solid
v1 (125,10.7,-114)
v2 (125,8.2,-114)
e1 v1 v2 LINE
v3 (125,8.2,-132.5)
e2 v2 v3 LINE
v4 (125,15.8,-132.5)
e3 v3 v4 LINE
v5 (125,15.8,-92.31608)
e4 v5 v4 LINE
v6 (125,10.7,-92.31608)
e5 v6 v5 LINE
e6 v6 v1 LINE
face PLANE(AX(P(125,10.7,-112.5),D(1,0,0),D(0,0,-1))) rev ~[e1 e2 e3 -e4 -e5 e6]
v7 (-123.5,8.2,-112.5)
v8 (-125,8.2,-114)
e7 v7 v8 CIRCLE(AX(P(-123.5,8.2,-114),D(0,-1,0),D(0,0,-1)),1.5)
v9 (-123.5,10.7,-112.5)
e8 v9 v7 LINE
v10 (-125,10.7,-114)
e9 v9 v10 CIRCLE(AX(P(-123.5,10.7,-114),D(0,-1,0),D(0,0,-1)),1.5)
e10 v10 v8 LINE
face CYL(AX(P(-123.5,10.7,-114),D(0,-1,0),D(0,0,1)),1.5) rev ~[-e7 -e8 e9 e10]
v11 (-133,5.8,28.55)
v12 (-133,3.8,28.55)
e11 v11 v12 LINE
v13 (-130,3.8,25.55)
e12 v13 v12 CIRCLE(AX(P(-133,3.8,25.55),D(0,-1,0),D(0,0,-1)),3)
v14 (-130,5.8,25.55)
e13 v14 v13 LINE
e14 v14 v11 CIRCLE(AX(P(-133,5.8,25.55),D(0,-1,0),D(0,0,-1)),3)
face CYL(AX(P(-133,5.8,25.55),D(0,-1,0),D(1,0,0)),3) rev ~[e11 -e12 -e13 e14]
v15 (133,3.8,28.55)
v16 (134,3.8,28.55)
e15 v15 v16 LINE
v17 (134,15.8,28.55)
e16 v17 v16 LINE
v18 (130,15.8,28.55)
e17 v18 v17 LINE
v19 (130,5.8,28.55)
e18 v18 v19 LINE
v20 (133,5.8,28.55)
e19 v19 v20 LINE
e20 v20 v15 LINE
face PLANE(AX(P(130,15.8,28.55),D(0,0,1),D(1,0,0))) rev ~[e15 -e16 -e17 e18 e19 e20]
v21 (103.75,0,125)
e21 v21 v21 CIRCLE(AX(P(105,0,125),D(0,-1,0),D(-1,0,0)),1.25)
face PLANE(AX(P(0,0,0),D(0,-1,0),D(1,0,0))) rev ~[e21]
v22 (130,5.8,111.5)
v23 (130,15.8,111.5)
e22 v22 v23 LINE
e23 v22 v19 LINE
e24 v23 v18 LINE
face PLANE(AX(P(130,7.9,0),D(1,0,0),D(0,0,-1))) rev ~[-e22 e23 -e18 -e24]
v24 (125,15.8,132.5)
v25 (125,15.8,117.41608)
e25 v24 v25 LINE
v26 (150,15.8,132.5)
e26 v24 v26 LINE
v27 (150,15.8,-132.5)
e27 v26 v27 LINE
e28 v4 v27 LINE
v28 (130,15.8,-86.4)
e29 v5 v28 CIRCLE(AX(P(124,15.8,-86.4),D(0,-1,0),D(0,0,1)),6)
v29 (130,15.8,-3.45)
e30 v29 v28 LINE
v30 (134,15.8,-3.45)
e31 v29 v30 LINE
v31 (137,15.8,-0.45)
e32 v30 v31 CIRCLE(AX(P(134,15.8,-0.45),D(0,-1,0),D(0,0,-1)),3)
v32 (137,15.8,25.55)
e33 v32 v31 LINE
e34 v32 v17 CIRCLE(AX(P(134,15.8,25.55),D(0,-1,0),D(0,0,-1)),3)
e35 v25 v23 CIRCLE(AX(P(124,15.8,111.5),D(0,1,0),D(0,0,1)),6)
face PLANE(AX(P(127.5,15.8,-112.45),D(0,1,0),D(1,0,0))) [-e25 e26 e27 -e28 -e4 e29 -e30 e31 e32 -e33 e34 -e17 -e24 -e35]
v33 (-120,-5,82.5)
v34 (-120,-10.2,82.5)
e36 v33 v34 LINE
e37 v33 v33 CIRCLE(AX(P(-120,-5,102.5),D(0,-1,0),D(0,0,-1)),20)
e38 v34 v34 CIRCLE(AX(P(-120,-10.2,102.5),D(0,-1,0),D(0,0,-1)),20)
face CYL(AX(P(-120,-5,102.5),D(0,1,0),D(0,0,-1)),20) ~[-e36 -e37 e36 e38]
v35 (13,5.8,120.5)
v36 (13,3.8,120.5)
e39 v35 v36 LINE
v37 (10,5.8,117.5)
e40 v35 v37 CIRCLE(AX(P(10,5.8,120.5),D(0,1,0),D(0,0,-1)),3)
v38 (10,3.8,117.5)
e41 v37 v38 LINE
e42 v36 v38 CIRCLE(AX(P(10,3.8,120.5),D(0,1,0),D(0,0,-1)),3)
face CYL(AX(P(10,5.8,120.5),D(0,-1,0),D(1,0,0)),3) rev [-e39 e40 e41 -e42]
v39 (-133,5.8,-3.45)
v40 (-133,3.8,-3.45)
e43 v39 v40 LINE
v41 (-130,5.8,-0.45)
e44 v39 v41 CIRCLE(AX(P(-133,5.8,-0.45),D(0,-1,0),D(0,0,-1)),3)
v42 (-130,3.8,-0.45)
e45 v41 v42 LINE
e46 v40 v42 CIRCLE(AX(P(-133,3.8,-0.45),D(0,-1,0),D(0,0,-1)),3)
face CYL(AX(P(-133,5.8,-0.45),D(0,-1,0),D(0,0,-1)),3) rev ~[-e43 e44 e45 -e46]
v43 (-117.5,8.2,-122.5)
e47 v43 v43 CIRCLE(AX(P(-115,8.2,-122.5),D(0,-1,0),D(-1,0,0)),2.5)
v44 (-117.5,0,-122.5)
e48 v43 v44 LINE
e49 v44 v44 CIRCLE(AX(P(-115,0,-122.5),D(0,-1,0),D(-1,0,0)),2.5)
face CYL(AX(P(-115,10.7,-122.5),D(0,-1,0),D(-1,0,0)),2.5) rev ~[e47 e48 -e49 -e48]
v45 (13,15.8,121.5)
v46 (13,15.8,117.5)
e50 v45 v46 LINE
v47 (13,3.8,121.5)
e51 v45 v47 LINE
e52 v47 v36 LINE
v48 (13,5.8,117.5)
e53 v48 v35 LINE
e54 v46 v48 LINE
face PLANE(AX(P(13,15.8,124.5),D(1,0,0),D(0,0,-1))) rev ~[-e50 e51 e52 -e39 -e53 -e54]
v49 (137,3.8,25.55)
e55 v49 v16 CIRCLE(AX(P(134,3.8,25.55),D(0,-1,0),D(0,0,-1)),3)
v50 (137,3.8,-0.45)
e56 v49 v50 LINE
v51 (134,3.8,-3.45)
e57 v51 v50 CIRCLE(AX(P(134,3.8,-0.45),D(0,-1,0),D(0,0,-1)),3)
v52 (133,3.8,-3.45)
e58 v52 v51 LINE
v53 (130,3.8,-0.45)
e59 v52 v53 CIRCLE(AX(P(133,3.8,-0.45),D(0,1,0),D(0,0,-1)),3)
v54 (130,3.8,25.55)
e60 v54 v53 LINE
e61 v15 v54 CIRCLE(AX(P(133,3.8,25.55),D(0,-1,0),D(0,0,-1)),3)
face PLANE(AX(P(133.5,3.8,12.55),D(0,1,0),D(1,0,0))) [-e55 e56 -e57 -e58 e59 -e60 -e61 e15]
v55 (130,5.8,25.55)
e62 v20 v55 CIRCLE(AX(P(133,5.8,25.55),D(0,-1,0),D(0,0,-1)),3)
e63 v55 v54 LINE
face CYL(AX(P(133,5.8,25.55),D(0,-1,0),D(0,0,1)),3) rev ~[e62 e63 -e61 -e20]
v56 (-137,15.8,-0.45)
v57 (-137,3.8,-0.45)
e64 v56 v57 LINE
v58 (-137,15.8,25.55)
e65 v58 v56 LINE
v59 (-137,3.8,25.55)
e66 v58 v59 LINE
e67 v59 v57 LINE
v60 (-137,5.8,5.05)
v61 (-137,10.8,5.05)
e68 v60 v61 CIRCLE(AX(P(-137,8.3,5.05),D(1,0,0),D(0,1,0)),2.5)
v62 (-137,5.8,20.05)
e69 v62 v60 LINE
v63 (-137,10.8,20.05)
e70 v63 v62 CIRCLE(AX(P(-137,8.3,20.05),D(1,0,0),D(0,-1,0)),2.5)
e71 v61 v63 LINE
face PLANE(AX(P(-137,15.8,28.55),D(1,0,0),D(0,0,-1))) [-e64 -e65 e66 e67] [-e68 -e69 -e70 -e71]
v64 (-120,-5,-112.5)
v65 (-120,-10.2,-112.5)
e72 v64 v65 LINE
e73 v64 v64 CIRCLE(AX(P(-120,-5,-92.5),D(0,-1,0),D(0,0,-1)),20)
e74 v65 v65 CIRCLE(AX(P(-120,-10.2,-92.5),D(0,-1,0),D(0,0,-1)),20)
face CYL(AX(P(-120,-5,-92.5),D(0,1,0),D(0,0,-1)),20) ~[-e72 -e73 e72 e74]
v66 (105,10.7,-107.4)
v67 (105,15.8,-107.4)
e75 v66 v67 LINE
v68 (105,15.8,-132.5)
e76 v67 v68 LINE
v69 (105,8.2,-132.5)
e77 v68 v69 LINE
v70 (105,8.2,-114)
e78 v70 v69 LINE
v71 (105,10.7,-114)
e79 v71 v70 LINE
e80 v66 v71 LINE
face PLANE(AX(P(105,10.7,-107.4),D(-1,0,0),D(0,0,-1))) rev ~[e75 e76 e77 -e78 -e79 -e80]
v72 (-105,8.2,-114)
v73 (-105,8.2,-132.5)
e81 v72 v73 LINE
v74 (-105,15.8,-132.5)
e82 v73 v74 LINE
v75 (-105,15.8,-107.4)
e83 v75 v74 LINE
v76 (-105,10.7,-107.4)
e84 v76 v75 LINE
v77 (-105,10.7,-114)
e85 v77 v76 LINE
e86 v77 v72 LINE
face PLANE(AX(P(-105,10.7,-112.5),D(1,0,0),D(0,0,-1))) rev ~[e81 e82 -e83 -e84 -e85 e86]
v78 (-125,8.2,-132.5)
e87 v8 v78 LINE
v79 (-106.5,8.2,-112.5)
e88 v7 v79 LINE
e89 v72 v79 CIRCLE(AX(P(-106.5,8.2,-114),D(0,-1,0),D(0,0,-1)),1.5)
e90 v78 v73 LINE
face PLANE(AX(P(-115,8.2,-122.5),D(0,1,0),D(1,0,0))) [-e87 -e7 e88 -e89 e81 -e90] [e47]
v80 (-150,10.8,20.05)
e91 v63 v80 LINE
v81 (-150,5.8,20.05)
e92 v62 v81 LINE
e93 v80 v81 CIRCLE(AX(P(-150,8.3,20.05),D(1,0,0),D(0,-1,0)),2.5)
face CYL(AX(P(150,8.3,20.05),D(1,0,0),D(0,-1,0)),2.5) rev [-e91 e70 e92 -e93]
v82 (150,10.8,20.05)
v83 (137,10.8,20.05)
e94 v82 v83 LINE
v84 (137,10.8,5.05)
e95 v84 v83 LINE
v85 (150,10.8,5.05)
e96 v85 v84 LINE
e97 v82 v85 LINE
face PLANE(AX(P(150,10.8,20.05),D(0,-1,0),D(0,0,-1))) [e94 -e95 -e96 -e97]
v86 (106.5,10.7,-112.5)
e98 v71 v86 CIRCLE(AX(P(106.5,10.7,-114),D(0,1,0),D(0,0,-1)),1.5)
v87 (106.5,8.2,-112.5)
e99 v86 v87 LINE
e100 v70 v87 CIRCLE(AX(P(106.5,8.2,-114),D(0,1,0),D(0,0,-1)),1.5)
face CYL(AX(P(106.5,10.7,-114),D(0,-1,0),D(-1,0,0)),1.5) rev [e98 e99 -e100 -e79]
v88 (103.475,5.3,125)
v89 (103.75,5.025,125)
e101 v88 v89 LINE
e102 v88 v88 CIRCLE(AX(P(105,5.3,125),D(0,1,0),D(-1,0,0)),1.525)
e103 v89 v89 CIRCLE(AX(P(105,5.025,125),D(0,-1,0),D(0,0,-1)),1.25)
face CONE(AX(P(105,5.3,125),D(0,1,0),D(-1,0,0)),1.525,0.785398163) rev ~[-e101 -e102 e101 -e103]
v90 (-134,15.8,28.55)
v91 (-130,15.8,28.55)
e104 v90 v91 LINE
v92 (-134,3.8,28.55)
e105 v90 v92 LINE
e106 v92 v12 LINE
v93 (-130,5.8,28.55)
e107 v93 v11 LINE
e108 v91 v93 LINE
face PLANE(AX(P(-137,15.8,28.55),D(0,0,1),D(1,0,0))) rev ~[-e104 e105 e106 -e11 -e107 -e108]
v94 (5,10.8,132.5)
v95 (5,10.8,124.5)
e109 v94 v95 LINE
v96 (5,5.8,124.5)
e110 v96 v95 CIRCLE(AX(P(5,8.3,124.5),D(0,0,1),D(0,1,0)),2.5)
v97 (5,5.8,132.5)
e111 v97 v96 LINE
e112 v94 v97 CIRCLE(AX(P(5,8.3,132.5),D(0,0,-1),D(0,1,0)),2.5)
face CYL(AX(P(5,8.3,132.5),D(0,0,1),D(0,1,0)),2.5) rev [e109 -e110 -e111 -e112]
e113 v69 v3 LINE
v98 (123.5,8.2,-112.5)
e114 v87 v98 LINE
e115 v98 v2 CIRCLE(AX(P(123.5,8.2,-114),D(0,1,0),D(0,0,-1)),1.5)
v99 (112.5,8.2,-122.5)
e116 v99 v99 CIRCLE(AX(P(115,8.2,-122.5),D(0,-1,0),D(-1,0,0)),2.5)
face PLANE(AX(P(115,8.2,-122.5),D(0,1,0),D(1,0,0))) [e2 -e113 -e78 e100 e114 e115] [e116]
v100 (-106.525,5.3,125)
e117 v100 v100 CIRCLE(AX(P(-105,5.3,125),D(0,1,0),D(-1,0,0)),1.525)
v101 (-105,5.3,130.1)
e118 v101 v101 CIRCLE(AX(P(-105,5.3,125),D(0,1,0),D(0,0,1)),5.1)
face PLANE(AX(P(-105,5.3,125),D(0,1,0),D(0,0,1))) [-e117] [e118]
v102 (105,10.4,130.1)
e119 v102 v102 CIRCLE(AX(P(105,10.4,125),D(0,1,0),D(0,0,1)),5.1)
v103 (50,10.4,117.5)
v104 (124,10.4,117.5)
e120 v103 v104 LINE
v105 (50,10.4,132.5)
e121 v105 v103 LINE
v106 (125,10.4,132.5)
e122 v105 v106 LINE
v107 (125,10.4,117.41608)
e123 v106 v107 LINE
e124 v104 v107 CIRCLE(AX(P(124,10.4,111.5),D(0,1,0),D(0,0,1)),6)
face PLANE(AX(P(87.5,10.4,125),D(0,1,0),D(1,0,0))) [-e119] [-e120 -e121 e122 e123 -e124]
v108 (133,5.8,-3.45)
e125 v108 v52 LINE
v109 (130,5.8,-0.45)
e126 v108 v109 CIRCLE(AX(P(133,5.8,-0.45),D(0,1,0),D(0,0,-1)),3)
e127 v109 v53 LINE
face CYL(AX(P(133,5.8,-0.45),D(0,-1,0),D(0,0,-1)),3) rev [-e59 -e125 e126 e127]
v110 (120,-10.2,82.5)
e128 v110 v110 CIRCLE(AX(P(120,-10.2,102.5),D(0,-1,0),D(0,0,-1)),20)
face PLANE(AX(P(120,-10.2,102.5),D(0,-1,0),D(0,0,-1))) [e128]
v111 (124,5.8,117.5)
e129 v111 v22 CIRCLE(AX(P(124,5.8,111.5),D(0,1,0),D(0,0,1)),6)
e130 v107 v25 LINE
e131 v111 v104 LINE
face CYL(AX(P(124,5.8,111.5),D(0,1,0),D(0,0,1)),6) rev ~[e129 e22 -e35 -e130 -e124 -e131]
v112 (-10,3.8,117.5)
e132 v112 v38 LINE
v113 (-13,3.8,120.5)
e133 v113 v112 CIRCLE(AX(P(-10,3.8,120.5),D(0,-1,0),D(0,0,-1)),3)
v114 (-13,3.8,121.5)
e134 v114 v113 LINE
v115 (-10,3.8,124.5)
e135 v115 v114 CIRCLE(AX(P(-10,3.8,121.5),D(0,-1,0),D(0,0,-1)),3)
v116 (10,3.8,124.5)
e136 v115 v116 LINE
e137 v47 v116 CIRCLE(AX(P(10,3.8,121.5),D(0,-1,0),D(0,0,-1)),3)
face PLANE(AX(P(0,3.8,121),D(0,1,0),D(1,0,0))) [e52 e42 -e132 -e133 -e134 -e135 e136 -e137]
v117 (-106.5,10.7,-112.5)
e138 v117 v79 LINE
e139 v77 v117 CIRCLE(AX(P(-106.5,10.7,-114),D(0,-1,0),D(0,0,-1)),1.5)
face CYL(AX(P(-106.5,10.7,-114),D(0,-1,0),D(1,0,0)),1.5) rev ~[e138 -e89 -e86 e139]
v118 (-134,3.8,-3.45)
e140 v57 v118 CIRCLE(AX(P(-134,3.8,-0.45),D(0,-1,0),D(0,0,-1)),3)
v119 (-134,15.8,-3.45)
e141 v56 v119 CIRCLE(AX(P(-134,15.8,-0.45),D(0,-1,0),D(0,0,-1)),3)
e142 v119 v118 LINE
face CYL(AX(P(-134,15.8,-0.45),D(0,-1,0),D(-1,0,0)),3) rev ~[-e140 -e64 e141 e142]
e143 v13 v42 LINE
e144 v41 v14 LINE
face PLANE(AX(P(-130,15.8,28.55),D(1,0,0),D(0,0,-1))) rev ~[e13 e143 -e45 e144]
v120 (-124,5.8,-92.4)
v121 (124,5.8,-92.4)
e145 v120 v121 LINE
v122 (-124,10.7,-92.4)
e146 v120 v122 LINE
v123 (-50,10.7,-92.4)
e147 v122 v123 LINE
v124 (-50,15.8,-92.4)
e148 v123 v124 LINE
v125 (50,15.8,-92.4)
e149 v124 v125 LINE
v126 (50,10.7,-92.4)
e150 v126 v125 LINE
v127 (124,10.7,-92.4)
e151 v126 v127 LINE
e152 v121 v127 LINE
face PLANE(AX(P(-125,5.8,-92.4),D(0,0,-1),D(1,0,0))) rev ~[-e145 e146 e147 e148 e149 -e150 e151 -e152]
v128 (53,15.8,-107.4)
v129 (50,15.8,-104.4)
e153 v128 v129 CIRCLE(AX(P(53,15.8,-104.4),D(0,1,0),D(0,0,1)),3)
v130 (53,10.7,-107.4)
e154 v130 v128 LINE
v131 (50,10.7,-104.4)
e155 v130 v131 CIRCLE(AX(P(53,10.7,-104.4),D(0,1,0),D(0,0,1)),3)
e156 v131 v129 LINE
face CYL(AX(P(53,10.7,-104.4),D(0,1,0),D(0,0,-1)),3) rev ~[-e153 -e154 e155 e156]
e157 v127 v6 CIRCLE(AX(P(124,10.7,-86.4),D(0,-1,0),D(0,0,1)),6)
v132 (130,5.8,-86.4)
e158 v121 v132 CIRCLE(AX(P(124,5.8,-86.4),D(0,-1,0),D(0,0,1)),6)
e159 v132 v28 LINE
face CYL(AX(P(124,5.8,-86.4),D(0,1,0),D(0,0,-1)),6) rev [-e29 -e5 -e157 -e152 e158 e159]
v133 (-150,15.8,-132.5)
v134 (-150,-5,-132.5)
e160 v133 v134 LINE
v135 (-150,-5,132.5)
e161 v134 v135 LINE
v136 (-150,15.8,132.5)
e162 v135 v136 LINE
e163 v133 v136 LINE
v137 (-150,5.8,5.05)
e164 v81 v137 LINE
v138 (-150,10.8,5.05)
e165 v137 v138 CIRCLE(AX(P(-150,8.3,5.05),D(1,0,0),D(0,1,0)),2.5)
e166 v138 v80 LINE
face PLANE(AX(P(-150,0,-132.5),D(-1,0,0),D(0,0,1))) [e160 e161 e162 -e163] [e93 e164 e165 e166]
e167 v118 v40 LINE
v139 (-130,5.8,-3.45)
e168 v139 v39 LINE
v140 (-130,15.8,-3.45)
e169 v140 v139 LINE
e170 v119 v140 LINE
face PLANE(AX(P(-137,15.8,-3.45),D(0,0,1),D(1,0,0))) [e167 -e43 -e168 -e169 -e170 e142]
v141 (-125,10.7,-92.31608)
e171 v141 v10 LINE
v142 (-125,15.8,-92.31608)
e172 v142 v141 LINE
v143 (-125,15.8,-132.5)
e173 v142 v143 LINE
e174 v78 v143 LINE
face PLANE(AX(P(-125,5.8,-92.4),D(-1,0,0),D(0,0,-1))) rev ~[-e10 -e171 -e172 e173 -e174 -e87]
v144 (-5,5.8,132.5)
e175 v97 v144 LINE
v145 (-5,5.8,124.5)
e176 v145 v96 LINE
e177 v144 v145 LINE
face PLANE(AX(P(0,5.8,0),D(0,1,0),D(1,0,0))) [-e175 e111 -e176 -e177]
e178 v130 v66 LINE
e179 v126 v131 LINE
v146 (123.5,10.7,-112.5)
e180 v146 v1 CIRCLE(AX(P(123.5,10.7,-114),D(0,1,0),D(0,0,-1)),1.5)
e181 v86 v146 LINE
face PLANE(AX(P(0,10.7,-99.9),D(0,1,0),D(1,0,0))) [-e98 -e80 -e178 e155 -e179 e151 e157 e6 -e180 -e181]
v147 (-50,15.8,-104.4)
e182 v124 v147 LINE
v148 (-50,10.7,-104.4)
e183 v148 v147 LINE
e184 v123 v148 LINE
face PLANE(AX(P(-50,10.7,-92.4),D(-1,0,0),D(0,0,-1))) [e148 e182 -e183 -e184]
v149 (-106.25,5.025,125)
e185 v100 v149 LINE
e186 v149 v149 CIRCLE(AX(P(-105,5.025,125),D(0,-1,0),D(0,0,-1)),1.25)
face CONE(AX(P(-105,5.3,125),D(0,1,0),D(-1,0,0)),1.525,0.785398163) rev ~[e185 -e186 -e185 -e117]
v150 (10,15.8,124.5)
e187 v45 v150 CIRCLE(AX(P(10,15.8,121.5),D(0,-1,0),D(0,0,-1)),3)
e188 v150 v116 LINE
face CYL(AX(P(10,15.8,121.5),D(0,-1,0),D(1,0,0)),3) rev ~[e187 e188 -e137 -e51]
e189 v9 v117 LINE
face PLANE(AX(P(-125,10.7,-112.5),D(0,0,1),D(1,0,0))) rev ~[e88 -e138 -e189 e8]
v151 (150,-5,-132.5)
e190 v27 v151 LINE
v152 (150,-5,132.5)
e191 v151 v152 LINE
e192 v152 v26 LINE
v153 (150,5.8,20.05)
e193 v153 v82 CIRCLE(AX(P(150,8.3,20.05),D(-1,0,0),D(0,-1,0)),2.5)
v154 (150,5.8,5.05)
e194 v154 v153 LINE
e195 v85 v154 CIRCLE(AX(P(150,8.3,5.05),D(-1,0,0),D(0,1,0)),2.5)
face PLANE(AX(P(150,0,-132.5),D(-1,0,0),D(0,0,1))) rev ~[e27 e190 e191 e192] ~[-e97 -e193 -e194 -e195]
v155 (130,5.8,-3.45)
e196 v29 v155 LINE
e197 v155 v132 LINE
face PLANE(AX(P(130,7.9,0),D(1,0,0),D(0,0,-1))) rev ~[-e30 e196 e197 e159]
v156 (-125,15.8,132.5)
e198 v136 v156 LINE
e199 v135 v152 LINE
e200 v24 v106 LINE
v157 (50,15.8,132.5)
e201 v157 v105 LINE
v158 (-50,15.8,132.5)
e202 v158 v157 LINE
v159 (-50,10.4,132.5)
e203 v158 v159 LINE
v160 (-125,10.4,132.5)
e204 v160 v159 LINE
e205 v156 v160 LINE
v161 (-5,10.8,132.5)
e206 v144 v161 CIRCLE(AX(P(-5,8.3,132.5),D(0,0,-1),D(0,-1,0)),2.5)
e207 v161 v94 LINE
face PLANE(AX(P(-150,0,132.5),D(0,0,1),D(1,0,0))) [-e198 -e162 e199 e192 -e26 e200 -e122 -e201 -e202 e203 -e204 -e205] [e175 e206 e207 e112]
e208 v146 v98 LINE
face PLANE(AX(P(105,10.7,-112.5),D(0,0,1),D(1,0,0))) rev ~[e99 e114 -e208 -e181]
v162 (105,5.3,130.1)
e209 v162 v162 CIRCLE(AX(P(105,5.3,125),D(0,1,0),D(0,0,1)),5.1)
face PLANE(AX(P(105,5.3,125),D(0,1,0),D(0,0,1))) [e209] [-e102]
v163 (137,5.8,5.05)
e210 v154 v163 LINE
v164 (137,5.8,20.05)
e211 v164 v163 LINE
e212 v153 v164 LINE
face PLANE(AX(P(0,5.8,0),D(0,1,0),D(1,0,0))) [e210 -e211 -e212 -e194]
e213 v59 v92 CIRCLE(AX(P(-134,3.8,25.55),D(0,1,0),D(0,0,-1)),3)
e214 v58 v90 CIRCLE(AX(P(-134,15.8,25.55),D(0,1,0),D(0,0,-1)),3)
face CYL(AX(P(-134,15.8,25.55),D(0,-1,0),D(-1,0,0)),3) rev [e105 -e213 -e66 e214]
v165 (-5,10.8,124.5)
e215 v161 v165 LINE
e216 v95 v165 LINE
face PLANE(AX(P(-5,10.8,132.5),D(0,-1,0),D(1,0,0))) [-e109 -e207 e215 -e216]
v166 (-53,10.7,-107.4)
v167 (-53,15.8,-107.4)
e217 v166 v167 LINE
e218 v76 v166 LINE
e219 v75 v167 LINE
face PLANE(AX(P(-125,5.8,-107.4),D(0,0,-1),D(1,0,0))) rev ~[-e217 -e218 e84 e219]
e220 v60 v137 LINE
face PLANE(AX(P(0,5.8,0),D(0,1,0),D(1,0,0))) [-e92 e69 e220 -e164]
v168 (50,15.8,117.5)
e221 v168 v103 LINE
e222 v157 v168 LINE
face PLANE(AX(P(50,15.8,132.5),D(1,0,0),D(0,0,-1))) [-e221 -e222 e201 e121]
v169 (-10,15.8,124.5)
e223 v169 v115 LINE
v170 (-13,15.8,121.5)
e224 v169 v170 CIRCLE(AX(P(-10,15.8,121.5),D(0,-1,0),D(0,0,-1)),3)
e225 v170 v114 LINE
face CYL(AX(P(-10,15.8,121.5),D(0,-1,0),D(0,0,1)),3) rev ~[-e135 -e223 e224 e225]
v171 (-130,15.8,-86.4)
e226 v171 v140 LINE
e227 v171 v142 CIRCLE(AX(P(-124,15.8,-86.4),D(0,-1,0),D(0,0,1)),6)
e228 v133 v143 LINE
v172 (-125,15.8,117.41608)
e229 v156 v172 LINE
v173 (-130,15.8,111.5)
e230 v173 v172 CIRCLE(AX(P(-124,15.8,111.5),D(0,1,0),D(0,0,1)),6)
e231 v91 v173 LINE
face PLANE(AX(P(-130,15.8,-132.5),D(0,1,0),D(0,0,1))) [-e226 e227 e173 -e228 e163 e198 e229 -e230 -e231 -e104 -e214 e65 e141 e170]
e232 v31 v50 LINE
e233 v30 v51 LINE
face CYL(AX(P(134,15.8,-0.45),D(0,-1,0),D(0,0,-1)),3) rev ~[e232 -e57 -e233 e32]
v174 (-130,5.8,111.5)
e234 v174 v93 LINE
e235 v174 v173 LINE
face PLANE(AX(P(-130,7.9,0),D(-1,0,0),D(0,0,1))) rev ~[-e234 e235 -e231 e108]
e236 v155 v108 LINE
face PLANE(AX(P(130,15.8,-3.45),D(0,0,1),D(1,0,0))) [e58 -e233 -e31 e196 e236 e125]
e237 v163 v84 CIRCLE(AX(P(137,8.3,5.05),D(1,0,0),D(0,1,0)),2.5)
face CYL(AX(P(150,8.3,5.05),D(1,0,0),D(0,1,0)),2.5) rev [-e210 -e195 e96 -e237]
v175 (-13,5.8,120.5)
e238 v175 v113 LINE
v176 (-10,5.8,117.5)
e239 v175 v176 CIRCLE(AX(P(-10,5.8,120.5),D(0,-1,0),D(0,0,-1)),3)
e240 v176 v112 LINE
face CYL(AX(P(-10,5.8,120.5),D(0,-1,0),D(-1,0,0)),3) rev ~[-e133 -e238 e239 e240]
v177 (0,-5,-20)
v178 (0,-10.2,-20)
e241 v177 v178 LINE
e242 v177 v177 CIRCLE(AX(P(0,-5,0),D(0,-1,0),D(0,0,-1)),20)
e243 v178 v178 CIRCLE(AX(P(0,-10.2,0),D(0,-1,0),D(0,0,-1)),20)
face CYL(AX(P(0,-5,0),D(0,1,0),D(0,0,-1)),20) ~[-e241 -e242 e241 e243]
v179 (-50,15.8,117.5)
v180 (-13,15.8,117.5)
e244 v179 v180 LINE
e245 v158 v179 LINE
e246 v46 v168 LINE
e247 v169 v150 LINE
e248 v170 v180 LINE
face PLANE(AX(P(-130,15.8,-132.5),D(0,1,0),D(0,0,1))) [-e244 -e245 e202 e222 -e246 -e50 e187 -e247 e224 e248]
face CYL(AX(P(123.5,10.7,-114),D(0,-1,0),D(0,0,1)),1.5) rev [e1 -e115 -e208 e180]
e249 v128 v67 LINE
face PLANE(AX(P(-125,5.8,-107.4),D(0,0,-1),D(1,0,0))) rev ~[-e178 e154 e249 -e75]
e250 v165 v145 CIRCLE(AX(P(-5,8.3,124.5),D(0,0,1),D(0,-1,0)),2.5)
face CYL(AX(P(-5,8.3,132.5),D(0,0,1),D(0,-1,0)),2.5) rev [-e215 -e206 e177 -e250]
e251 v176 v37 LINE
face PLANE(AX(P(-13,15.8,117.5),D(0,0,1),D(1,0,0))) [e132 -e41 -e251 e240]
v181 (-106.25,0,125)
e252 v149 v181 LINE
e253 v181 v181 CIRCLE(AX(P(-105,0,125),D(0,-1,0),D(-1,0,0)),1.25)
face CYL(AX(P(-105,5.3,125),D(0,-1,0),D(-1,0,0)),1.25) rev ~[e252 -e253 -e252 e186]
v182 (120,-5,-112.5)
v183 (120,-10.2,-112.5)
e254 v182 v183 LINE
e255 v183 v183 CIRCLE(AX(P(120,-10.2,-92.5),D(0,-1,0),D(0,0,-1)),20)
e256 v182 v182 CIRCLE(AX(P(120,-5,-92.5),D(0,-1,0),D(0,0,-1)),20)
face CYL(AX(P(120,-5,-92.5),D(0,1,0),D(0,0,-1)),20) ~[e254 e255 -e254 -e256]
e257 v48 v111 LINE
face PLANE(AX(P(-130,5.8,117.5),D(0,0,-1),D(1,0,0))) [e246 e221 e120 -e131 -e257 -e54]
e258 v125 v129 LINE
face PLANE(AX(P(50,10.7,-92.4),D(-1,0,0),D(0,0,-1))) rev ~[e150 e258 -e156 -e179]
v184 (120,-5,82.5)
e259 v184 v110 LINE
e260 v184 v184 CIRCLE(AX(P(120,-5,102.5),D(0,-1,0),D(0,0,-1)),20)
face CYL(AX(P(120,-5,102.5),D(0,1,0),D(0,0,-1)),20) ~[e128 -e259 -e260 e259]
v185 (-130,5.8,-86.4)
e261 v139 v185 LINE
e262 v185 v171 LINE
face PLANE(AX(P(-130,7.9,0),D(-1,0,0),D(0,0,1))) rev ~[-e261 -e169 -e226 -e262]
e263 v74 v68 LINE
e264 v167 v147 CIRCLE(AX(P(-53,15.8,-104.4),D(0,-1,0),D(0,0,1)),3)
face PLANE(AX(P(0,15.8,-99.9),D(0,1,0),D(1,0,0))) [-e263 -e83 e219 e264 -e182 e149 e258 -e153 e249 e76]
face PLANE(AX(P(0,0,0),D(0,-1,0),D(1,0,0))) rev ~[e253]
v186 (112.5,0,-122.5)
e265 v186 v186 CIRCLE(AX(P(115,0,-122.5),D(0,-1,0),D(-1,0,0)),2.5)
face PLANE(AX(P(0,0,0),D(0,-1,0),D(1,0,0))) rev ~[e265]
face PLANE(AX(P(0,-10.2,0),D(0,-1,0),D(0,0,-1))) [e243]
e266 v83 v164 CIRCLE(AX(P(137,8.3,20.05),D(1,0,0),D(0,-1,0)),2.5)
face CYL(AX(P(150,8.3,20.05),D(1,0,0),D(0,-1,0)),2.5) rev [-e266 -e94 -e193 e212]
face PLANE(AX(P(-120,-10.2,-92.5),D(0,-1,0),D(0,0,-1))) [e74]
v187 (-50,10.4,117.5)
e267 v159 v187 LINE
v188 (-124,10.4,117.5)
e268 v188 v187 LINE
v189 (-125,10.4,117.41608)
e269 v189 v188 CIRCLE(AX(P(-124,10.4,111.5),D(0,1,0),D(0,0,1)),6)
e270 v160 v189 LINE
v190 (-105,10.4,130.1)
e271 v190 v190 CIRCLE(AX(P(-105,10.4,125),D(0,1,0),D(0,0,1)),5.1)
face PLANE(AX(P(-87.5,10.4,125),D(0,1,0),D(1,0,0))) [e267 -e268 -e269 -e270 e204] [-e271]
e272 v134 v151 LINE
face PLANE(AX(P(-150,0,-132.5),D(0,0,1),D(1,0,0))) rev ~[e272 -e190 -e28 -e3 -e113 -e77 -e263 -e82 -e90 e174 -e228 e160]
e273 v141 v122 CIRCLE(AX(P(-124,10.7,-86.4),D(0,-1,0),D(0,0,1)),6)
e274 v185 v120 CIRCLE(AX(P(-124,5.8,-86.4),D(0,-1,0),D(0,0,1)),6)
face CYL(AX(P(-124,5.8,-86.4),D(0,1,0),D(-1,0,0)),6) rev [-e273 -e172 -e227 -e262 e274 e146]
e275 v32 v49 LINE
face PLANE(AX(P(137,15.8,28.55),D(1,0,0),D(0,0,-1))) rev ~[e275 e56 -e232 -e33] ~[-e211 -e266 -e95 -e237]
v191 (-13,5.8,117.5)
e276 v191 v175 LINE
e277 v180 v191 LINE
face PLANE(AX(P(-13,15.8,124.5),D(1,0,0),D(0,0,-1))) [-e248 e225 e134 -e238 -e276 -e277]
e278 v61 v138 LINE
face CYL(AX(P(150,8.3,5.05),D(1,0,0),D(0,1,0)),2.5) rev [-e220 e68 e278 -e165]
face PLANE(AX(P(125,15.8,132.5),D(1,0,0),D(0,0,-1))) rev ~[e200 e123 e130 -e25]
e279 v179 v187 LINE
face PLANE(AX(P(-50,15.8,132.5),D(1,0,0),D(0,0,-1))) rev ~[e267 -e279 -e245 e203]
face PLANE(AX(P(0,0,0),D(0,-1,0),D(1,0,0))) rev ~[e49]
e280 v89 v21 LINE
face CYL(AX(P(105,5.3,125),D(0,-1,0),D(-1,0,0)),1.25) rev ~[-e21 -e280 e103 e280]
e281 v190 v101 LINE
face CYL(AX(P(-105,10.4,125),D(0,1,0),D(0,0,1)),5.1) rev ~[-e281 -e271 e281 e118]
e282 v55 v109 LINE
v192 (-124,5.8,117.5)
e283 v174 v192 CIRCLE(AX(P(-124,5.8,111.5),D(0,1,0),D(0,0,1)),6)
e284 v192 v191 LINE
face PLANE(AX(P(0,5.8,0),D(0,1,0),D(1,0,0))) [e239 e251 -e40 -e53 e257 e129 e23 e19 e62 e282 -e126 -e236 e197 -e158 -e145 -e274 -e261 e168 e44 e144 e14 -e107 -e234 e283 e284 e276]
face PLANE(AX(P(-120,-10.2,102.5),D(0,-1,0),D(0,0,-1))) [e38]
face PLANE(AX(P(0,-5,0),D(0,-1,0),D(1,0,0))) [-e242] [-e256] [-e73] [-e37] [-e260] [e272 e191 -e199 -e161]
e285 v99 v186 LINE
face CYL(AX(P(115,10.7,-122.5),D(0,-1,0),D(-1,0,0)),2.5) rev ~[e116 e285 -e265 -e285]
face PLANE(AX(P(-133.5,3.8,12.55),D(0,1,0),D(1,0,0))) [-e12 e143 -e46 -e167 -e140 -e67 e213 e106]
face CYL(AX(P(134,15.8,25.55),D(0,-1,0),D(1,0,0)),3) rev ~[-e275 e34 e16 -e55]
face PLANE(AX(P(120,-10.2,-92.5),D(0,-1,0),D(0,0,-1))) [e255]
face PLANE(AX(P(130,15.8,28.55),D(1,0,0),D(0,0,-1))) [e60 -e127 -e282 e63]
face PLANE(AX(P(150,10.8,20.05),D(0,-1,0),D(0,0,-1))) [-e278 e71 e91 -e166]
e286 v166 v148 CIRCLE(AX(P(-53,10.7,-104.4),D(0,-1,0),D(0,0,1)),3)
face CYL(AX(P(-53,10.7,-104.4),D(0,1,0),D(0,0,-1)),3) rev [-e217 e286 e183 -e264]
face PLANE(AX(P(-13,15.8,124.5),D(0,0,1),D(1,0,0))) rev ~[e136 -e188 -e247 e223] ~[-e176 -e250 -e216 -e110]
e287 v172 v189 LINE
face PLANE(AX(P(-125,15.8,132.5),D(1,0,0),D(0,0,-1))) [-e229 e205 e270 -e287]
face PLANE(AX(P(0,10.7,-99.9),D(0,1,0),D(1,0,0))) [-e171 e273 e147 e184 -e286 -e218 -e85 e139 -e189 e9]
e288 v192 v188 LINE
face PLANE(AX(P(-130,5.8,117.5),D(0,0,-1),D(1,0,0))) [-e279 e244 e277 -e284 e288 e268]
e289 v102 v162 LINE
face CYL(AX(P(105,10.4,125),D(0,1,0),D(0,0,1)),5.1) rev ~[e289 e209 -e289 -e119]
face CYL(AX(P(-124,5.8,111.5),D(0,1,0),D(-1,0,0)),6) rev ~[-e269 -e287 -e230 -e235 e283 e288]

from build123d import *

# Parameters (mm, degrees)
SKETCH_1_W                 = 260
SKETCH_1_H                 = 265
EXTRUDE_577_DEPTH          = 5.8
SKETCH_17_W                = 260
SKETCH_17_H                = 15
EXTRUDE_803_DEPTH          = 10
SKETCH_19_W                = 265
SKETCH_19_H                = 15.8
EXTRUDE_982_DEPTH          = 20
SKETCH_20_W                = 265
SKETCH_20_H                = 15.8
EXTRUDE_1186_DEPTH         = 20
SKETCH_22_W                = 75
SKETCH_22_H                = 15
CUT_EXTRUDE_1675_DEPTH     = 5.4
SKETCH_25_W                = 5
SKETCH_25_H                = 40.1
EXTRUDE_1_DEPTH            = 10
SKETCH_26_W                = 250
SKETCH_26_H                = 25.1
EXTRUDE_1_2_DEPTH          = 4.9
HOLE_WIZARD_M6_D           = 5
HOLE_WIZARD_M6_CSINK_D     = 6.05
HOLE_WIZARD_M6_CSINK_ANGLE = 90
SKETCH_27_W                = 210
SKETCH_27_H                = 25.1
EXTRUDE_3711_DEPTH         = 5.1
CUT_EXTRUDE_1_DEPTH        = 329.338072724
CUT_EXTRUDE_2_REACH        = 306.917
SKETCH_29_R                = 5.1
CUT_EXTRUDE_4572_DEPTH     = 5.1
HOLE_WIZARD_3_D            = 2.5
HOLE_WIZARD_3_CSINK_D      = 3.05
HOLE_WIZARD_3_CSINK_ANGLE  = 90
SKETCH_32_W                = 250
SKETCH_32_H                = 15
EXTRUDE_3_DEPTH            = 4.9
SKETCH_38_W                = 100
SKETCH_38_H                = 15
EXTRUDE_2_DEPTH            = 5.1
SKETCH_34_W                = 300
SKETCH_34_H                = 265
EXTRUDE_4_DEPTH            = 5
SKETCH_33_R                = 20
EXTRUDE_7147_DEPTH         = 5.2
SKETCH_36_W                = 7
SKETCH_36_H                = 32
SKETCH_36_W_2              = 26
SKETCH_36_H_2              = 7
CUT_EXTRUDE_7671_DEPTH     = 12
FILLET_2_R                 = 3
FILLET_3_R                 = 6
SKETCH_39_W                = 20
SKETCH_39_H                = 20
CUT_EXTRUDE_1_2_DEPTH      = 2.5
FILLET_4_R                 = 1.5


with BuildPart() as part:
    # Эскиз1 → Extrude 577 (new body)
    with BuildSketch(Plane(origin=(0, 0, 0), x_dir=(1, 0, 0), z_dir=(0, 1, 0))):
        Rectangle(SKETCH_1_W, SKETCH_1_H)
    extrude(amount=EXTRUDE_577_DEPTH)

    # Эскиз17 → Extrude 803 (add)
    with BuildSketch(Plane(origin=(0, 5.8, 0), x_dir=(1, 0, 0), z_dir=(0, 1, 0))):
        with Locations((0, -125)):
            Rectangle(SKETCH_17_W, SKETCH_17_H)
    extrude(amount=EXTRUDE_803_DEPTH)

    # Эскиз19 → Extrude 982 (add)
    with BuildSketch(Plane(origin=(130, 0, 0), x_dir=(0, 0, -1), z_dir=(1, 0, 0))):
        with Locations((0, 7.9)):
            Rectangle(SKETCH_19_W, SKETCH_19_H)
    extrude(amount=EXTRUDE_982_DEPTH)

    # Эскиз20 → Extrude 1186 (add)
    with BuildSketch(Plane.ZY.offset(130)):
        with Locations((0, 7.9)):
            Rectangle(SKETCH_20_W, SKETCH_20_H)
    extrude(amount=EXTRUDE_1186_DEPTH)

    # Эскиз22 → Cut-Extrude 1675 (cut)
    with BuildSketch(Plane(origin=(0, 15.8, 0), x_dir=(1, 0, 0), z_dir=(0, 1, 0))):
        with Locations((-87.5, -125)):
            Rectangle(SKETCH_22_W, SKETCH_22_H)
        with Locations((87.5, -125)):
            Rectangle(SKETCH_22_W, SKETCH_22_H)
    extrude(amount=-CUT_EXTRUDE_1675_DEPTH, mode=Mode.SUBTRACT)

    # Эскиз25 → Extrude 1 (add)
    with BuildSketch(Plane(origin=(0, 5.8, 0), x_dir=(1, 0, 0), z_dir=(0, 1, 0))):
        with Locations((127.5, 112.45)):
            Rectangle(SKETCH_25_W, SKETCH_25_H)
        with Locations((-127.5, 112.45)):
            Rectangle(SKETCH_25_W, SKETCH_25_H)
    extrude(amount=EXTRUDE_1_DEPTH)

    # Эскиз26 → Extrude 1 2 (add)
    with BuildSketch(Plane(origin=(0, 5.8, 0), x_dir=(1, 0, 0), z_dir=(0, 1, 0))):
        with Locations((0, 119.95)):
            Rectangle(SKETCH_26_W, SKETCH_26_H)
    extrude(amount=EXTRUDE_1_2_DEPTH)

    # Крепление для уровня M6 (through all)
    with Locations(Plane(origin=(0, 10.7, 0), x_dir=(1, 0, 0), z_dir=(0, 1, 0))):
        with Locations((-115, 122.5), (115, 122.5)):
            CounterSinkHole(HOLE_WIZARD_M6_D / 2, HOLE_WIZARD_M6_CSINK_D / 2, counter_sink_angle=HOLE_WIZARD_M6_CSINK_ANGLE)

    # Эскиз27 → Extrude 3711 (add)
    with BuildSketch(Plane(origin=(0, 10.7, 0), x_dir=(1, 0, 0), z_dir=(0, 1, 0))):
        with Locations((0, 119.95)):
            Rectangle(SKETCH_27_W, SKETCH_27_H)
    extrude(amount=EXTRUDE_3711_DEPTH)

    # Эскиз28 → Cut-Extrude 1 (cut, through all)
    with BuildSketch(Plane(origin=(150, 0, 0), x_dir=(0, 0, -1), z_dir=(1, 0, 0))):
        with BuildLine():
            Line((-20.05, 10.8), (-5.05, 10.8))
            ThreePointArc((-5.05, 10.8), (-2.55, 8.3), (-5.05, 5.8))
            Line((-5.05, 5.8), (-20.05, 5.8))
            ThreePointArc((-20.05, 5.8), (-22.55, 8.3), (-20.05, 10.8))
        make_face()
    extrude(amount=-CUT_EXTRUDE_1_DEPTH, mode=Mode.SUBTRACT)

    # Эскиз37 → Регулировка-2 (cut, up to next)
    with BuildSketch(Plane.XY.offset(132.5), mode=Mode.PRIVATE) as cut_extrude_2_sk1:
        with BuildLine():
            Line((-5, 10.8), (5, 10.8))
            ThreePointArc((5, 10.8), (7.5, 8.3), (5, 5.8))
            Line((5, 5.8), (-5, 5.8))
            ThreePointArc((-5, 5.8), (-7.5, 8.3), (-5, 10.8))
        make_face()
    cut_extrude_2_tool1 = extrude(cut_extrude_2_sk1.sketch, amount=-CUT_EXTRUDE_2_REACH, mode=Mode.PRIVATE) & part.part
    add(cut_extrude_2_tool1.solids().sort_by_distance((0, 8.3, 132.5))[0], mode=Mode.SUBTRACT)

    # Эскиз29 → Cut-Extrude 4572 (cut)
    with BuildSketch(Plane(origin=(0, 10.4, 0), x_dir=(1, 0, 0), z_dir=(0, 1, 0))):
        with Locations(Location((-105, -125, 0), (0, 0, 270))):
            Circle(SKETCH_29_R)
        with Locations(Location((105, -125, 0), (0, 0, 270))):
            Circle(SKETCH_29_R)
    extrude(amount=-CUT_EXTRUDE_4572_DEPTH, mode=Mode.SUBTRACT)

    # КреплениеМагнитов-М3 (through all)
    with Locations(Plane(origin=(0, 5.3, 0), x_dir=(1, 0, 0), z_dir=(0, 1, 0))):
        with Locations((-105, -125), (105, -125)):
            CounterSinkHole(HOLE_WIZARD_3_D / 2, HOLE_WIZARD_3_CSINK_D / 2, counter_sink_angle=HOLE_WIZARD_3_CSINK_ANGLE)

    # Эскиз32 → Бобышка-Вытянуть3 (add)
    with BuildSketch(Plane(origin=(0, 5.8, 0), x_dir=(1, 0, 0), z_dir=(0, 1, 0))):
        with Locations((0, 99.9)):
            Rectangle(SKETCH_32_W, SKETCH_32_H)
    extrude(amount=EXTRUDE_3_DEPTH)

    # Эскиз38 → НаправляющийВынос-2 (add)
    with BuildSketch(Plane(origin=(0, 10.7, 0), x_dir=(1, 0, 0), z_dir=(0, 1, 0))):
        with Locations((0, 99.9)):
            Rectangle(SKETCH_38_W, SKETCH_38_H)
    extrude(amount=EXTRUDE_2_DEPTH)

    # Эскиз34 → Бобышка-Вытянуть4 (add)
    with BuildSketch(Plane.XZ):
        Rectangle(SKETCH_34_W, SKETCH_34_H)
    extrude(amount=EXTRUDE_4_DEPTH)

    # Эскиз33 → Extrude 7147 (add)
    with BuildSketch(Plane.XZ.offset(5)):
        with Locations(Location((0, 0, 0), (0, 0, 270))):
            Circle(SKETCH_33_R)
        with Locations(Location((-120, 102.5, 0), (0, 0, 270))):
            Circle(SKETCH_33_R)
        with Locations(Location((120, 102.5, 0), (0, 0, 270))):
            Circle(SKETCH_33_R)
        with Locations(Location((120, -92.5, 0), (0, 0, 270))):
            Circle(SKETCH_33_R)
        with Locations(Location((-120, -92.5, 0), (0, 0, 270))):
            Circle(SKETCH_33_R)
    extrude(amount=EXTRUDE_7147_DEPTH)

    # Эскиз36 → Cut-Extrude 7671 (cut)
    with BuildSketch(Plane(origin=(0, 15.8, 0), x_dir=(1, 0, 0), z_dir=(0, 1, 0))):
        with Locations((133.5, -12.55)):
            Rectangle(SKETCH_36_W, SKETCH_36_H)
        with Locations((-133.5, -12.55)):
            Rectangle(SKETCH_36_W, SKETCH_36_H)
        with Locations((0, -121)):
            Rectangle(SKETCH_36_W_2, SKETCH_36_H_2)
    extrude(amount=-CUT_EXTRUDE_7671_DEPTH, mode=Mode.SUBTRACT)

    # Скругление2
    fillet_2_edges = [part.edges().sort_by_distance(p)[0] for p in [
        (50, 13.25, -107.4),
        (-50, 13.25, -107.4),
        (137, 9.8, -3.45),
        (137, 9.8, 28.55),
        (130, 4.8, 28.55),
        (130, 4.8, -3.45),
        (-130, 4.8, -3.45),
        (-130, 4.8, 28.55),
        (-137, 9.8, 28.55),
        (-137, 9.8, -3.45),
        (-13, 9.8, 124.5),
        (-13, 4.8, 117.5),
        (13, 4.8, 117.5),
        (13, 9.8, 124.5),
    ]]
    fillet(fillet_2_edges, radius=FILLET_2_R)

    # Скругление3
    fillet_3_edges = [part.edges().sort_by_distance(p)[0] for p in [
        (130, 10.8, 117.5),
        (130, 10.8, -92.4),
        (-130, 10.8, 117.5),
        (-130, 10.8, -92.4),
    ]]
    fillet(fillet_3_edges, radius=FILLET_3_R)

    # Эскиз39 → Cut-Extrude 1 2 (cut)
    with BuildSketch(Plane(origin=(0, 10.7, 0), x_dir=(1, 0, 0), z_dir=(0, 1, 0))):
        with Locations((-115, 122.5)):
            Rectangle(SKETCH_39_W, SKETCH_39_H)
        with Locations((115, 122.5)):
            Rectangle(SKETCH_39_W, SKETCH_39_H)
    extrude(amount=-CUT_EXTRUDE_1_2_DEPTH, mode=Mode.SUBTRACT)

    # Скругление4
    fillet_4_edges = [part.edges().sort_by_distance(p)[0] for p in [
        (-105, 9.45, -112.5),
        (-125, 9.45, -112.5),
        (105, 9.45, -112.5),
        (125, 9.45, -112.5),
    ]]
    fillet(fillet_4_edges, radius=FILLET_4_R)


solid = part.part
